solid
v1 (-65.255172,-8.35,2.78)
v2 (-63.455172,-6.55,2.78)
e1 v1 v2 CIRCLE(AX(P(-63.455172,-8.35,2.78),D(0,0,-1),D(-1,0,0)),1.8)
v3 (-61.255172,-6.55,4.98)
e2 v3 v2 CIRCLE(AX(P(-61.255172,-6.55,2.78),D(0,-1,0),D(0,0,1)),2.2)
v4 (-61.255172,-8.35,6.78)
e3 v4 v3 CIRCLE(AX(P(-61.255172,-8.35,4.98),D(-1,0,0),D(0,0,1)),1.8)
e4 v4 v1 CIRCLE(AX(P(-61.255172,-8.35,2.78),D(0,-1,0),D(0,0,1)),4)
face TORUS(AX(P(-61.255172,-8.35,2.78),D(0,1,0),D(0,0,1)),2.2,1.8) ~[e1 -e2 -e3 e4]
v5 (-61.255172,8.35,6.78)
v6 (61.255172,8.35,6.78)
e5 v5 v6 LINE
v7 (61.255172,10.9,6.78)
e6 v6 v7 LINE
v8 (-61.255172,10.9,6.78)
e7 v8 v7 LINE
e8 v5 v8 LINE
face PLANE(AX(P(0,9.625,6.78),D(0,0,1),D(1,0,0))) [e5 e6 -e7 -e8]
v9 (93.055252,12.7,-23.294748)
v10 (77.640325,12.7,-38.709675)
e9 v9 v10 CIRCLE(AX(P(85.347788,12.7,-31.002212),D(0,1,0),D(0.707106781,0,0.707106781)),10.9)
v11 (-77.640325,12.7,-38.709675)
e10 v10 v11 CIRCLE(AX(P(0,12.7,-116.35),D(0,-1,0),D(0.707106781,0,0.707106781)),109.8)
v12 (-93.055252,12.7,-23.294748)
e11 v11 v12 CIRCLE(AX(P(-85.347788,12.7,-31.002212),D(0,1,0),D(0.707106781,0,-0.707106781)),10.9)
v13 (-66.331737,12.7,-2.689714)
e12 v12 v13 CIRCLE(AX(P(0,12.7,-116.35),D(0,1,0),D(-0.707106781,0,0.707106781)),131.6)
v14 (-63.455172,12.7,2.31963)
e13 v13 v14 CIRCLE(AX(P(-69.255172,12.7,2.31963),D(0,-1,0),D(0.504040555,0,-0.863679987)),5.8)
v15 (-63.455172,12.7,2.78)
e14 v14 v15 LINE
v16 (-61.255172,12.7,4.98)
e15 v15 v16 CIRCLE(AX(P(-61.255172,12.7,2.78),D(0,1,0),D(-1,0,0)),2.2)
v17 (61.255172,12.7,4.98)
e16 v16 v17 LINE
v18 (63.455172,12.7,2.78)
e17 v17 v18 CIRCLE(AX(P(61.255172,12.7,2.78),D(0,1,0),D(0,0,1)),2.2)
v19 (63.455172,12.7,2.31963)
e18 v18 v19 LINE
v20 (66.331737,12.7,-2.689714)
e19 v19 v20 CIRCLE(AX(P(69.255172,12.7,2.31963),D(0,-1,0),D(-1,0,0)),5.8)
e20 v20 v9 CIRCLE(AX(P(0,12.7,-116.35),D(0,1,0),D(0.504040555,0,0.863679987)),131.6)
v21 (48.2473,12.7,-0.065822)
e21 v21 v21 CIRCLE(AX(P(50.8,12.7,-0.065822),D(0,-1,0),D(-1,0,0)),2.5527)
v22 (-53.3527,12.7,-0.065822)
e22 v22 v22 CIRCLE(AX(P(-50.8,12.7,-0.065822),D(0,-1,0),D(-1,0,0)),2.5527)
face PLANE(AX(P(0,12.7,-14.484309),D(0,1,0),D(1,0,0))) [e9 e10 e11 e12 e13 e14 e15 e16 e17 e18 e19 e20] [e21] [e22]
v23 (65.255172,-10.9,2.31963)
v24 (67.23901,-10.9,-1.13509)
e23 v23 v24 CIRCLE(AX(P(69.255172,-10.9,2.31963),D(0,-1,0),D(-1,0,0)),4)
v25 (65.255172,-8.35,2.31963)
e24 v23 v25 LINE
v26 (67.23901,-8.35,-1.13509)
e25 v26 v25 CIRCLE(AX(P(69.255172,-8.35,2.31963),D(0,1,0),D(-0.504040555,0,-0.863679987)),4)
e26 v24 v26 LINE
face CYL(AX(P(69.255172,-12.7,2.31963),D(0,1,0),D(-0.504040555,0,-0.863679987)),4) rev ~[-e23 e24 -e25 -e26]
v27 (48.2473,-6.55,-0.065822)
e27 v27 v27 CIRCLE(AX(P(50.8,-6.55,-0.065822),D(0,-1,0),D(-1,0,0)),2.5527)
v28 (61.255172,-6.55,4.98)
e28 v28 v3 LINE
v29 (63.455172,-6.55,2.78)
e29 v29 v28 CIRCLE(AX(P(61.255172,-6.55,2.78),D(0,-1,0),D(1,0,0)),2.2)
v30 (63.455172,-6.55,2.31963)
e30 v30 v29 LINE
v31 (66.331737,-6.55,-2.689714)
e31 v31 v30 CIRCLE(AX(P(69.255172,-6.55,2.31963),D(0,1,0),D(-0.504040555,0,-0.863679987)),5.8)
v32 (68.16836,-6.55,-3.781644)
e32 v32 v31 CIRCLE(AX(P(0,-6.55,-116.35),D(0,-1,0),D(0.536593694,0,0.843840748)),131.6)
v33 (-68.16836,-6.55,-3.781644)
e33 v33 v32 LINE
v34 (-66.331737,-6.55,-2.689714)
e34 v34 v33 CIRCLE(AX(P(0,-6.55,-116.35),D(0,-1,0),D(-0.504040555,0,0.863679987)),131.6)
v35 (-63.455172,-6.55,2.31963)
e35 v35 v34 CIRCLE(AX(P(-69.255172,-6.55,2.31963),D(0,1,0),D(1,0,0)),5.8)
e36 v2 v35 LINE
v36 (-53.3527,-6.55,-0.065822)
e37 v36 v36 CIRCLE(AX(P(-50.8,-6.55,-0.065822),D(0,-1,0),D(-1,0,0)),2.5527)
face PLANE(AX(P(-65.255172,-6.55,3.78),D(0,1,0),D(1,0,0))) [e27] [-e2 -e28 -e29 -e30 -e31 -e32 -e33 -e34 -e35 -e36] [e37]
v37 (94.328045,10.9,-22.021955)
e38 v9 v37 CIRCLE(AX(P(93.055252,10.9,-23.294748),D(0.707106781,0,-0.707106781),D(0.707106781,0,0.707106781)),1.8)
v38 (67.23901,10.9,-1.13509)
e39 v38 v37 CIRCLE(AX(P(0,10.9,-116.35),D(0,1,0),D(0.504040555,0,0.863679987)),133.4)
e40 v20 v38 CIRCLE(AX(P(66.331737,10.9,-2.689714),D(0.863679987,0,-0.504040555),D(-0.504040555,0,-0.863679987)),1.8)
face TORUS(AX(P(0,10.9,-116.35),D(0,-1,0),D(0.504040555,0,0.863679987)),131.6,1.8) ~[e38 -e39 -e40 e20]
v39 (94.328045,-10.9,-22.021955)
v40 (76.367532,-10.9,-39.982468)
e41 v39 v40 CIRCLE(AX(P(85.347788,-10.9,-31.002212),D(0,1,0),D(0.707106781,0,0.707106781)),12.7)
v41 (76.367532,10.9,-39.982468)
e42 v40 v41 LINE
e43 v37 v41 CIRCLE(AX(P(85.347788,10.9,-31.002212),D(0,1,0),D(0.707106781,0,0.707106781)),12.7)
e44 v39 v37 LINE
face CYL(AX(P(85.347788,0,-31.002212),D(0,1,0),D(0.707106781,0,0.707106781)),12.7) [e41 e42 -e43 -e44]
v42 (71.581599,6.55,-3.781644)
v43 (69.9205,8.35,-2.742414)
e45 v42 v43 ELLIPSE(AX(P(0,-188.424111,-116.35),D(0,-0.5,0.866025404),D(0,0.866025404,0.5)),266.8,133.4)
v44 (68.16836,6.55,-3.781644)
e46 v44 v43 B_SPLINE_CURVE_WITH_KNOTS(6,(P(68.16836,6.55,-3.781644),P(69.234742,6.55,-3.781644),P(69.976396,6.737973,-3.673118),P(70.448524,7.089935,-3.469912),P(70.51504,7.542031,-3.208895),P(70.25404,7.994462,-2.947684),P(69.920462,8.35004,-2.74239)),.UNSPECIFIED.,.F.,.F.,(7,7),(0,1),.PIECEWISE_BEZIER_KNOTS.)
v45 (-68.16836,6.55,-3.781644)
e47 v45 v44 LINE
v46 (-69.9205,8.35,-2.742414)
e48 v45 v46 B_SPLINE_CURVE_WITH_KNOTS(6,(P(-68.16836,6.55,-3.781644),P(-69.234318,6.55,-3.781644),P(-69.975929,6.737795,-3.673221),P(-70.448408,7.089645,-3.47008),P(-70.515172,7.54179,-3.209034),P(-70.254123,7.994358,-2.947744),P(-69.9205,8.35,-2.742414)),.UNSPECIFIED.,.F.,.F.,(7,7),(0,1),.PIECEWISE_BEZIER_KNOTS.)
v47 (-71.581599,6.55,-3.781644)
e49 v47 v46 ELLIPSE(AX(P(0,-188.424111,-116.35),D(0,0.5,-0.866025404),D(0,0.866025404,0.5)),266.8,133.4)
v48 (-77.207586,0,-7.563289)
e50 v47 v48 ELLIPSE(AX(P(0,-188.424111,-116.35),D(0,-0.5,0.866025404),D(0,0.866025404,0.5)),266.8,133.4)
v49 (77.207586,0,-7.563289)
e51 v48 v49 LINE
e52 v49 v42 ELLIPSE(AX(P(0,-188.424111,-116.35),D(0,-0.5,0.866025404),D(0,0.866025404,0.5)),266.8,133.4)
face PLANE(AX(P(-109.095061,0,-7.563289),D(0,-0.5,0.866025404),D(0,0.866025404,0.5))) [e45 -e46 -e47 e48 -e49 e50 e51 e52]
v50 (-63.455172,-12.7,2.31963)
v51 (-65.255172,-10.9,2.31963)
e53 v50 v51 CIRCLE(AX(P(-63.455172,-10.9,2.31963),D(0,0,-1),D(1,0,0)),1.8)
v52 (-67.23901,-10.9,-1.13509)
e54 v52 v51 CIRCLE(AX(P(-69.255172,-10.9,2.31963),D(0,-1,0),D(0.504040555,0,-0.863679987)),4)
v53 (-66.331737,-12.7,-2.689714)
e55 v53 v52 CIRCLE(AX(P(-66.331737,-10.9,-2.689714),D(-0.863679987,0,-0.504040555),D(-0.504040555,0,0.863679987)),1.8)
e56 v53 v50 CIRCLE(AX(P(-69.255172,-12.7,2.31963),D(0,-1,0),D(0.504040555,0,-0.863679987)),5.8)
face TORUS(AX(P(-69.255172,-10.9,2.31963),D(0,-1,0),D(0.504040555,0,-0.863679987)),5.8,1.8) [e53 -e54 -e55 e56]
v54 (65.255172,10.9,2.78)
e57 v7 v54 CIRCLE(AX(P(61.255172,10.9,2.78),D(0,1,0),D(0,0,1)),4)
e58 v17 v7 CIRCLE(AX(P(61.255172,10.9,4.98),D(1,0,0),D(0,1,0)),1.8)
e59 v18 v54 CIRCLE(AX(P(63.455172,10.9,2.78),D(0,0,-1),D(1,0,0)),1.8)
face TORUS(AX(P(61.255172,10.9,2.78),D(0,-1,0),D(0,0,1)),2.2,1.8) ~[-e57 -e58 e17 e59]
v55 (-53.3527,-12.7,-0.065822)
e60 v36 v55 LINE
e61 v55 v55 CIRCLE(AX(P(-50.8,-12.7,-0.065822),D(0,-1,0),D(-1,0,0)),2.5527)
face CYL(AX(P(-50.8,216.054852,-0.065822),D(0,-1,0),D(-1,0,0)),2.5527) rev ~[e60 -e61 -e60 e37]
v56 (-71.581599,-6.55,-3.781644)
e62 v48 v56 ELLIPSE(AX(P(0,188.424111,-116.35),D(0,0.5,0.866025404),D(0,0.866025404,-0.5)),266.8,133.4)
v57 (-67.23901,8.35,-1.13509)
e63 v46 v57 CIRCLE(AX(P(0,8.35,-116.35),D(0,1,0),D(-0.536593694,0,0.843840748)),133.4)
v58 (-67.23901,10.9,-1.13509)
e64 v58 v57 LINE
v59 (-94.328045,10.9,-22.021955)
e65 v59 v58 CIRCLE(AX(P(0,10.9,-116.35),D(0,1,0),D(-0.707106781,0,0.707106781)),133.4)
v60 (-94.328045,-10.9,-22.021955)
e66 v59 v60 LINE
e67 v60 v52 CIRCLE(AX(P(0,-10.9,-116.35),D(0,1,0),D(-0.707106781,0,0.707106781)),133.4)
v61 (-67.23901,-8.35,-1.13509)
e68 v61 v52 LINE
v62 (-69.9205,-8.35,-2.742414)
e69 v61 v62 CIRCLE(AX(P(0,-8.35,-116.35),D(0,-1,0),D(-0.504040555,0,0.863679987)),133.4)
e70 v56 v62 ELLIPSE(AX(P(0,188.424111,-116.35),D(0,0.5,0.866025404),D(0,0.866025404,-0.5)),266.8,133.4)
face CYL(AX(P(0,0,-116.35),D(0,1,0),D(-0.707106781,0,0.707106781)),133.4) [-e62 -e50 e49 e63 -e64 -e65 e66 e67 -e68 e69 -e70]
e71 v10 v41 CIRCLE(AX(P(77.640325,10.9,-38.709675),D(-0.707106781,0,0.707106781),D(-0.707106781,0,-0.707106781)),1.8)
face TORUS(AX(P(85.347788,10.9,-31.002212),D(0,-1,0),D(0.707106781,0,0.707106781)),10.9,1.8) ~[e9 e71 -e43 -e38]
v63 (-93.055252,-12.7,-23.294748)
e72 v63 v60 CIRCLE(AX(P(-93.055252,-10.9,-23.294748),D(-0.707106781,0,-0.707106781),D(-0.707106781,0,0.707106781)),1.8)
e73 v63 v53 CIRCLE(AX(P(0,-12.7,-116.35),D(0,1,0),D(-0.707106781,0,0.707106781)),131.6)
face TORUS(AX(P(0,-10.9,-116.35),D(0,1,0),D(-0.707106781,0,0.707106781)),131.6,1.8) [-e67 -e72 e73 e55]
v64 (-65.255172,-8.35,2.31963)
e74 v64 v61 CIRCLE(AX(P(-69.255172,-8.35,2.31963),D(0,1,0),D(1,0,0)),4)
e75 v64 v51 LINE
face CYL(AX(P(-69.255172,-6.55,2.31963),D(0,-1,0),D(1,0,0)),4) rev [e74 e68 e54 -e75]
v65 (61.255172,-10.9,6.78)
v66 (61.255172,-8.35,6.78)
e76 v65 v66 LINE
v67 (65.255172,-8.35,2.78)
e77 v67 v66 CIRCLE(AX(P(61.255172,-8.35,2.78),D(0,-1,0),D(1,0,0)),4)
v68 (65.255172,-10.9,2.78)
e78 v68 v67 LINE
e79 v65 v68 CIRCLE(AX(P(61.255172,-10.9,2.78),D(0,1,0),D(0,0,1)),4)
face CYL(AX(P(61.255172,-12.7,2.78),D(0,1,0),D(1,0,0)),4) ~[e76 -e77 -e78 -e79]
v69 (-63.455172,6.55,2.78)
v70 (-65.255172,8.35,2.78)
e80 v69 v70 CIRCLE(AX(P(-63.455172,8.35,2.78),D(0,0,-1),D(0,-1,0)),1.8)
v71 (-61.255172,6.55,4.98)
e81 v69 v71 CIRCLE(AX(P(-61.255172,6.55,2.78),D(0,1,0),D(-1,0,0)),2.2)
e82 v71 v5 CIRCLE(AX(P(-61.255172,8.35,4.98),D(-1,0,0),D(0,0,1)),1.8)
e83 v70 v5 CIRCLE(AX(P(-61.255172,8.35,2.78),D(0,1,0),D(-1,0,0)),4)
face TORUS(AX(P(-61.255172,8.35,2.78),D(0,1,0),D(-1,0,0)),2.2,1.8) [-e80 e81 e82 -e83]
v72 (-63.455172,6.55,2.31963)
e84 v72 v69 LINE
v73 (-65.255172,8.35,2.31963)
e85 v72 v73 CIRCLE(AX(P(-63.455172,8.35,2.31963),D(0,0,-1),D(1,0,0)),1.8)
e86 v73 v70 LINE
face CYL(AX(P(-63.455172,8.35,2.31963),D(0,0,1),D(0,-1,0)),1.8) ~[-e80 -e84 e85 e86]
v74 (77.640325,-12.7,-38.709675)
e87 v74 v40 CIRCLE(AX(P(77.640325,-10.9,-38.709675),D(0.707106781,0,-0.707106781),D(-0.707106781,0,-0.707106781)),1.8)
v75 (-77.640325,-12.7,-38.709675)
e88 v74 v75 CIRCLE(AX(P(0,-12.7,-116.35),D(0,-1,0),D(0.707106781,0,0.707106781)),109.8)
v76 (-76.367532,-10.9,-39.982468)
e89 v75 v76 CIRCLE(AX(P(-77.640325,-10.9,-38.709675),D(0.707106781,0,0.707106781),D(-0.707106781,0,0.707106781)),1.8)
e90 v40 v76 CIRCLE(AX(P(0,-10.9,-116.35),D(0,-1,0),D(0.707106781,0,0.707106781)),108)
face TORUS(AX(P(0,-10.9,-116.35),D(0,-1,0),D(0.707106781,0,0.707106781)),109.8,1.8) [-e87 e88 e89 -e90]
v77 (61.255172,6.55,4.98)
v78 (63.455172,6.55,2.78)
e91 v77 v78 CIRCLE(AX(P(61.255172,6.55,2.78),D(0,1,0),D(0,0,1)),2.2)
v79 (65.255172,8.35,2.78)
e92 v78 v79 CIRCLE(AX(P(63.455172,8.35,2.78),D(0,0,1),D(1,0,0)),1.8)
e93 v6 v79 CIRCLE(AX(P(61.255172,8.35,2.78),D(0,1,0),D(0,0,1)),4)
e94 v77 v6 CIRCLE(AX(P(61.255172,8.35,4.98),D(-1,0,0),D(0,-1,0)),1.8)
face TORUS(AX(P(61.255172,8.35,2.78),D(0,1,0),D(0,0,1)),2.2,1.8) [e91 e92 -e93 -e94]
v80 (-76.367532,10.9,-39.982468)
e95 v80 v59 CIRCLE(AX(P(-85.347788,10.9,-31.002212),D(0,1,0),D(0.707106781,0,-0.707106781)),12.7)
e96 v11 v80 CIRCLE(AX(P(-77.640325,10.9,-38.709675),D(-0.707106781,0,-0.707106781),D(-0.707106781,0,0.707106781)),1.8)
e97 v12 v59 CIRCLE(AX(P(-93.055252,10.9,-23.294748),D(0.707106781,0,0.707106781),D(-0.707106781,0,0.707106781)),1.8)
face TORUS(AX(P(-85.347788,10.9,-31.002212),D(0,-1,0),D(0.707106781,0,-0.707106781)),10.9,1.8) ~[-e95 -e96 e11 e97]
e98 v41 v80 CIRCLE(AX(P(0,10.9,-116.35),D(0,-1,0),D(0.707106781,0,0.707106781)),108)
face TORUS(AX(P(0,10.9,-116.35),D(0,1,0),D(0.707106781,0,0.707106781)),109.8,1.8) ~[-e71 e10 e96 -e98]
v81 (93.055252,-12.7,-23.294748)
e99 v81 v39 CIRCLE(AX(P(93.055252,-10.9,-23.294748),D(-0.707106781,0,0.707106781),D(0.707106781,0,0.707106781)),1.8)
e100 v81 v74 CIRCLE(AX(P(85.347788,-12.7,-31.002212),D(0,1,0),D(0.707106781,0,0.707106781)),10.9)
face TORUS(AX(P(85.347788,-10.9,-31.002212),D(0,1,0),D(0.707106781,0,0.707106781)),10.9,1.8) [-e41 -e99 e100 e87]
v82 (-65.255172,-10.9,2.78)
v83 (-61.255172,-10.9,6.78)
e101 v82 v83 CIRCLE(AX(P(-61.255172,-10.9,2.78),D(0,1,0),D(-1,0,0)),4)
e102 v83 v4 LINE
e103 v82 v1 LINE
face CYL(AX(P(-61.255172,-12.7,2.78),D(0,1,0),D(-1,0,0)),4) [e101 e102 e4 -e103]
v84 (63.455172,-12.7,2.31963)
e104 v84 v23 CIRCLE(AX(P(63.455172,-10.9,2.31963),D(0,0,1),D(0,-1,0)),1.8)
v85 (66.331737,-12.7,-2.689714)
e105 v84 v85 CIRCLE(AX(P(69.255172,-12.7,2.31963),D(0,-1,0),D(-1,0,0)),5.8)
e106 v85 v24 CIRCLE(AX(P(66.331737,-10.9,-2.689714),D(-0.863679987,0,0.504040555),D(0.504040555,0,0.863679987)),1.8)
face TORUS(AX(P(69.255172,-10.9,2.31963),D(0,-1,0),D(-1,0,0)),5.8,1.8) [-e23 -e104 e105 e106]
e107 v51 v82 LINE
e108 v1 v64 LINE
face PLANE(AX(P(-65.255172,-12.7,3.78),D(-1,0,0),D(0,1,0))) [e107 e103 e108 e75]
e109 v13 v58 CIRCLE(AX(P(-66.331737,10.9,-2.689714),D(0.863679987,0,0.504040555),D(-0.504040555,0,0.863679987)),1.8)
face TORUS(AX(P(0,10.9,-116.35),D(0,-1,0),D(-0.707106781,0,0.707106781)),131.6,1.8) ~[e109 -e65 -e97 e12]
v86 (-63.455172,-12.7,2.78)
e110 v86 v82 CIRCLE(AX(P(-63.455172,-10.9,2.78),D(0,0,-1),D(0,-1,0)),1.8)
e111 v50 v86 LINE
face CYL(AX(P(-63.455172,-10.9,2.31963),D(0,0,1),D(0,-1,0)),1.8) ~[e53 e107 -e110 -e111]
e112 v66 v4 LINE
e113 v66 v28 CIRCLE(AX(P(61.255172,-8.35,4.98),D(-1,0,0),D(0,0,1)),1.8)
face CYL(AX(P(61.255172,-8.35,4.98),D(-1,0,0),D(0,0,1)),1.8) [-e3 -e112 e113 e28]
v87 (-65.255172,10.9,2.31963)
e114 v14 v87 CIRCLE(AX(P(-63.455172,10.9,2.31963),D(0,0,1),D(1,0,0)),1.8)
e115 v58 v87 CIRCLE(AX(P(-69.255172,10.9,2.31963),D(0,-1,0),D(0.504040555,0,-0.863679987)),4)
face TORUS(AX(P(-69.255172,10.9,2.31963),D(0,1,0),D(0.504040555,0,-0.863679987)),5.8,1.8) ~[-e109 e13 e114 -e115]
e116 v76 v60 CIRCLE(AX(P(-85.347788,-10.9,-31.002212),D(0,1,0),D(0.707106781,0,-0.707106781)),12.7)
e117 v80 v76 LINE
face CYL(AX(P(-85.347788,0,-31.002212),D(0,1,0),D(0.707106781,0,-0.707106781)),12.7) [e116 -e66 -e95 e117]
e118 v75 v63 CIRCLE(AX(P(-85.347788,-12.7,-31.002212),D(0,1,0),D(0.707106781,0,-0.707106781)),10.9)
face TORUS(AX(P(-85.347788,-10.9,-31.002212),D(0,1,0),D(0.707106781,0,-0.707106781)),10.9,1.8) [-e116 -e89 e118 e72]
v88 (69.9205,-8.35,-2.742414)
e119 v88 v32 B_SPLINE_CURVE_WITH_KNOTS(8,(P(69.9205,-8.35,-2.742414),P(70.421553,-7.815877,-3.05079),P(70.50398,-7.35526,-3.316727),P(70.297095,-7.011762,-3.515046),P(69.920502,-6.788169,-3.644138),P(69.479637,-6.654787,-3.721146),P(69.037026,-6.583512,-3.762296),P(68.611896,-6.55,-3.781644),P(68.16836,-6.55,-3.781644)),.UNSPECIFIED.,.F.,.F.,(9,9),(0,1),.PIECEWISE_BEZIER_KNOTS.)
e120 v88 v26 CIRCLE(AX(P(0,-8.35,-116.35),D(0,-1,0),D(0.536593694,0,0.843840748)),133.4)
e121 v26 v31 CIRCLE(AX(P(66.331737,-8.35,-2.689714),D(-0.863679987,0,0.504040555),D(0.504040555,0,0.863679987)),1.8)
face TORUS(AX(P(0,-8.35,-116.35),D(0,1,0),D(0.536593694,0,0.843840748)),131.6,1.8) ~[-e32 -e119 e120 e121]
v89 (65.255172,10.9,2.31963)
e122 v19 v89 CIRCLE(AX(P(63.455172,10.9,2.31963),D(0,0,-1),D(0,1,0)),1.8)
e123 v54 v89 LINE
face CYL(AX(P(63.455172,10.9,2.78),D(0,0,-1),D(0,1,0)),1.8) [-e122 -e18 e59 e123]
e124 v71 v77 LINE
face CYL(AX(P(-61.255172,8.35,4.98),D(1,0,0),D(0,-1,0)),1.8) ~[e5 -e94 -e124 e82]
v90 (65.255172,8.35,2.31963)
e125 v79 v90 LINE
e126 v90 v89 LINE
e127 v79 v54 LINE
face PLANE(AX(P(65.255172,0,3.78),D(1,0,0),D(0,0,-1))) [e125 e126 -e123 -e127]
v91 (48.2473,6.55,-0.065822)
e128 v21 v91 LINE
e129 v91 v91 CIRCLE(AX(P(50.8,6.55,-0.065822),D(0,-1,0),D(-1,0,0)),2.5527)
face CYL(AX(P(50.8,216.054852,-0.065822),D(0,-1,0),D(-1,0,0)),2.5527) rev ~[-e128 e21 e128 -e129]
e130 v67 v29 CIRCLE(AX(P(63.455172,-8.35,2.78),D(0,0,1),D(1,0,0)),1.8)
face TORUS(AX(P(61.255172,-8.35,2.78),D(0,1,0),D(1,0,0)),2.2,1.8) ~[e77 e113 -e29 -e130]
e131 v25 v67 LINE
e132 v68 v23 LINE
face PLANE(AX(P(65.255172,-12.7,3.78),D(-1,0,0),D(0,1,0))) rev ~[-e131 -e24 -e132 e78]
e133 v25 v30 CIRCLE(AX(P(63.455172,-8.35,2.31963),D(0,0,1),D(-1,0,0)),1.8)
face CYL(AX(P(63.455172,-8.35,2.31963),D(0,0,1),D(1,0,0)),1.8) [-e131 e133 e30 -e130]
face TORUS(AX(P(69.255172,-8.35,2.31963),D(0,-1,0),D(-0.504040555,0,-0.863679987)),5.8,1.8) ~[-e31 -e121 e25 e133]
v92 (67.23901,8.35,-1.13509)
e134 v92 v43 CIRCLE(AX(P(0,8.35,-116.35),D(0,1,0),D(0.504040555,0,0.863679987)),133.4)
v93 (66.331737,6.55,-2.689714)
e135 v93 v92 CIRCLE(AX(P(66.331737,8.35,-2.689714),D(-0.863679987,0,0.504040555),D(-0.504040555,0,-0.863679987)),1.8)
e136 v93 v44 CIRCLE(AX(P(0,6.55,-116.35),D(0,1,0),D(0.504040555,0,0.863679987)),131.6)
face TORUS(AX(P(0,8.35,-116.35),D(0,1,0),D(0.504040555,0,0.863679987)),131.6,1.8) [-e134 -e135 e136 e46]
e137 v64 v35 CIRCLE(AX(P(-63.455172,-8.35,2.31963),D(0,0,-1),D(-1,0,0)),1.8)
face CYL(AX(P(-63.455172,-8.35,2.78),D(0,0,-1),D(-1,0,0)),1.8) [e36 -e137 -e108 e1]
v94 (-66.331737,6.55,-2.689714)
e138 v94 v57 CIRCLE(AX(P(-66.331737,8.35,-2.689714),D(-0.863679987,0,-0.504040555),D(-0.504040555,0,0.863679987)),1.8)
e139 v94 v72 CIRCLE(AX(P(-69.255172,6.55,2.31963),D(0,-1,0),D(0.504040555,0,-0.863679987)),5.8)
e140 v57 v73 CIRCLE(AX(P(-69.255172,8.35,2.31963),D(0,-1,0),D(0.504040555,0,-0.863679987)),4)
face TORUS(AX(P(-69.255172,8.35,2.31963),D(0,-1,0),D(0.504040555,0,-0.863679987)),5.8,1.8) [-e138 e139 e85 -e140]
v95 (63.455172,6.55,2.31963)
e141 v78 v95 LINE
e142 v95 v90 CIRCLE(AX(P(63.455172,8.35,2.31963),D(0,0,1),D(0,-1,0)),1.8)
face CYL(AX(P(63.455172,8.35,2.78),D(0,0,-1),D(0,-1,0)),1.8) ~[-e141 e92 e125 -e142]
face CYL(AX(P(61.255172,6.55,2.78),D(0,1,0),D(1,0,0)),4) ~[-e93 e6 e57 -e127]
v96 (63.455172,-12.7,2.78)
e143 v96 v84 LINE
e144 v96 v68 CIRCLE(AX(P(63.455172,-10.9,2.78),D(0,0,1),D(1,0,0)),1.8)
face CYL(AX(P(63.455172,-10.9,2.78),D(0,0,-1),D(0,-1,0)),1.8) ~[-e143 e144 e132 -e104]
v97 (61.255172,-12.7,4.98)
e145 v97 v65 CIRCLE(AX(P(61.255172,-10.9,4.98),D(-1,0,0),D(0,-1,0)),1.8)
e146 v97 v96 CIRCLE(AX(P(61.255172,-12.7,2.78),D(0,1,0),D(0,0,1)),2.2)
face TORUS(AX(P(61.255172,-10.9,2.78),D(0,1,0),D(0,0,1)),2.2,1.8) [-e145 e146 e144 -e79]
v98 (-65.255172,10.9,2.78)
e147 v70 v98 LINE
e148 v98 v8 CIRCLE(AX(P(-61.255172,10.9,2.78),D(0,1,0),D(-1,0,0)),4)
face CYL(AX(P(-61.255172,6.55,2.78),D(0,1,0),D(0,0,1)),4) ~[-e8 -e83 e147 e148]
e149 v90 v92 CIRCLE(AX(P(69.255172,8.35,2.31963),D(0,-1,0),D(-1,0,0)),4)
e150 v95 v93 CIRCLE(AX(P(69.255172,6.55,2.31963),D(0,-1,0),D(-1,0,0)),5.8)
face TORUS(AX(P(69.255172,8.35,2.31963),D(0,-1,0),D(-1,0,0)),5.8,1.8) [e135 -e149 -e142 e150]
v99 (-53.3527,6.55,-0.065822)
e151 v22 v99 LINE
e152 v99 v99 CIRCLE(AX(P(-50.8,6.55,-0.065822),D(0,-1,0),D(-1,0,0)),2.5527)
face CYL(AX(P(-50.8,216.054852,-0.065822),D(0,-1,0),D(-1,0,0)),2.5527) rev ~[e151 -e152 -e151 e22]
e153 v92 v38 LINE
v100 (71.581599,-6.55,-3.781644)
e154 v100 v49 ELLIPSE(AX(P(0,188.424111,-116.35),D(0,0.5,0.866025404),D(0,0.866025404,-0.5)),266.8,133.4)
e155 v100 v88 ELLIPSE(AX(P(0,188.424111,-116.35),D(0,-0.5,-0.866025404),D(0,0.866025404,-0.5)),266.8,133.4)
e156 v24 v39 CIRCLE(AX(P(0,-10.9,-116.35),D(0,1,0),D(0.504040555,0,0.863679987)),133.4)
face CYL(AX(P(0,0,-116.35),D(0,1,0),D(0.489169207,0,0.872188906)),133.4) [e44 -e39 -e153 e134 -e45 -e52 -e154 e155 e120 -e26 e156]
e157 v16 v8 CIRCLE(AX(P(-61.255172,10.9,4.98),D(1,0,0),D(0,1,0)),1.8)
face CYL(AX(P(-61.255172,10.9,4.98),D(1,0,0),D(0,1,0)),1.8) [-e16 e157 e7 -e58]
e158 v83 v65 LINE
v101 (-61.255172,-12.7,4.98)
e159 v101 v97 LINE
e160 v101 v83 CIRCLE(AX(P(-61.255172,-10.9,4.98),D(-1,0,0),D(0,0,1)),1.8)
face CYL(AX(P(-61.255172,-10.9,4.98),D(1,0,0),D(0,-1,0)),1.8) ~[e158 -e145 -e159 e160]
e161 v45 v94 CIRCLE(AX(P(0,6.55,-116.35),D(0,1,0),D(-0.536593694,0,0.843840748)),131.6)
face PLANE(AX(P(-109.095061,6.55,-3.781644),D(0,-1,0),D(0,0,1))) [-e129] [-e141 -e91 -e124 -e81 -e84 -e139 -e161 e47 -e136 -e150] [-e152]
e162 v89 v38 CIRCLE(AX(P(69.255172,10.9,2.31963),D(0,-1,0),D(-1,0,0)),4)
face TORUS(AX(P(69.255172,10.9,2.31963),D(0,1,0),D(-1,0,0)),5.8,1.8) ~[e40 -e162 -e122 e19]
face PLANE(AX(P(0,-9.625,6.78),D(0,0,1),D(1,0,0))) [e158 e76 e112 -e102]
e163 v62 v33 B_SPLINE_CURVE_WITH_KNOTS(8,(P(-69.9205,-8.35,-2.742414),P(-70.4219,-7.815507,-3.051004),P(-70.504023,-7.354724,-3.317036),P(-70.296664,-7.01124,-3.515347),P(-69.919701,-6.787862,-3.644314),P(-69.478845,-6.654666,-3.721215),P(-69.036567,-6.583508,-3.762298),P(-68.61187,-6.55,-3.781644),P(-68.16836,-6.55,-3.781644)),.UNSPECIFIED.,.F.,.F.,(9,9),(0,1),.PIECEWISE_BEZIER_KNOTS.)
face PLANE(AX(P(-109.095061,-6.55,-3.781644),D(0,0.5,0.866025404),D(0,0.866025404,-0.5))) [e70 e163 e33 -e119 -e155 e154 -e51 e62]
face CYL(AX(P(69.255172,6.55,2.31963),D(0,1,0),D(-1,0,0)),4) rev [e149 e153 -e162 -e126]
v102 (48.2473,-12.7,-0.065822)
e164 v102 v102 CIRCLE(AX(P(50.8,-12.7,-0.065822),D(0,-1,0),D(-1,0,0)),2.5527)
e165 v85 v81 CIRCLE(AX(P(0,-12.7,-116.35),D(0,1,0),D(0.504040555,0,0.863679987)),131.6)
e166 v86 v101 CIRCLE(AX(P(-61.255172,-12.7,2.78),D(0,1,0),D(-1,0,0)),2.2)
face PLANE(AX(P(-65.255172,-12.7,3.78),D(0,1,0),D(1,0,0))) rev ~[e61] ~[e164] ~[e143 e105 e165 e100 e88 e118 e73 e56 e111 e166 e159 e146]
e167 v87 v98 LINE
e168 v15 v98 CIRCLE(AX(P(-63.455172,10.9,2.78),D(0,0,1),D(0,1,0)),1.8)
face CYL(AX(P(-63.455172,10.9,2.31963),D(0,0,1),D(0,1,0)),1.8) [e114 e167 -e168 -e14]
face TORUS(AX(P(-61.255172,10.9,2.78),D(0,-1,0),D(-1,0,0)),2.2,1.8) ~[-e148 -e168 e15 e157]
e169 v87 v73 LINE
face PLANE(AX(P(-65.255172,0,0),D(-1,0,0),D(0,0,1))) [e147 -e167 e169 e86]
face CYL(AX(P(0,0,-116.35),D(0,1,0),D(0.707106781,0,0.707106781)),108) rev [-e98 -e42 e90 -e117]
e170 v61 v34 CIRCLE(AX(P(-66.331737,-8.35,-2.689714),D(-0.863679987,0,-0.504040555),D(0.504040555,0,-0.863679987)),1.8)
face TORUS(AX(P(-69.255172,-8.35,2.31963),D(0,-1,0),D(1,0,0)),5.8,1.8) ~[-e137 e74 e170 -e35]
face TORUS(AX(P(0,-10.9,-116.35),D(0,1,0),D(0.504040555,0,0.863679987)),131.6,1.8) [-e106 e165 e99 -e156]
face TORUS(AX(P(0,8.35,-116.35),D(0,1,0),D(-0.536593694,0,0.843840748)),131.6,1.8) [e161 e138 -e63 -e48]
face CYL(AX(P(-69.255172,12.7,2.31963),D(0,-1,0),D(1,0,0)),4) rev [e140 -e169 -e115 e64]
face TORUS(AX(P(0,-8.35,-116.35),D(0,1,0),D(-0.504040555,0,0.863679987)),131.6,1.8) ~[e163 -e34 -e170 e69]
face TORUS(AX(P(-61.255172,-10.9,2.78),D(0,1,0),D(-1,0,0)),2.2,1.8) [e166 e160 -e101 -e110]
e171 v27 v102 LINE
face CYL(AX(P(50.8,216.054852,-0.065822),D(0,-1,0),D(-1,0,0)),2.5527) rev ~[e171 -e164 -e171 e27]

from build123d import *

# Parameters (mm, degrees)
BOSS_EXTRUDE1_DEPTH     = 12.7
CUT_EXTRUDE1_DEPTH      = 109.095060565
CUT_EXTRUDE1_DEPTH_BACK = 109.095060565
F_10_CLEARANCE_HOLE2_D  = 5.1054
SKETCH8_W               = 130.510344418
SKETCH8_H               = 6.15
BOSS_EXTRUDE2_DEPTH     = 3
FILLET1_R               = 4
FILLET2_R               = 1.8


with BuildPart() as part:
    # Sketch1 → Boss-Extrude1 (new, symmetric)
    with BuildSketch(Plane(origin=(0, 0, 0), x_dir=(1, 0, 0), z_dir=(0, 1, 0))):
        with BuildLine():
            Line((-65.255172209, 0), (-65.255172209, -3.78))
            Line((-65.255172209, -3.78), (65.255172209, -3.78))
            Line((65.255172209, -3.78), (65.255172209, 0))
            ThreePointArc((65.255172209, 0), (80.547764726, 10.012717744), (94.32804461, 22.02195539))
            ThreePointArc((94.32804461, 22.02195539), (94.32804461, 39.982467632), (76.367532368, 39.982467632))
            ThreePointArc((76.367532368, 39.982467632), (0, 8.35), (-76.367532368, 39.982467632))
            ThreePointArc((-76.367532368, 39.982467632), (-94.32804461, 39.982467632), (-94.32804461, 22.02195539))
            ThreePointArc((-94.32804461, 22.02195539), (-80.547764726, 10.012717744), (-65.255172209, 0))
        make_face()
    extrude(amount=BOSS_EXTRUDE1_DEPTH, both=True)

    # Sketch3 → Cut-Extrude1 (cut, two sides: drawn at the far end of the back side and taken through both)
    with BuildSketch(Plane(origin=(0, 0, 0), x_dir=(0, 0, -1), z_dir=(1, 0, 0)).offset(-CUT_EXTRUDE1_DEPTH_BACK)):
        Polygon((-7.563288526, 0), (-3.781644263, -6.55), (3.781644263, -6.55), (7.563288526, 0), (3.781644263, 6.55), (-3.781644263, 6.55), align=None)
    extrude(amount=CUT_EXTRUDE1_DEPTH + CUT_EXTRUDE1_DEPTH_BACK, mode=Mode.SUBTRACT)

    # #10 Clearance Hole2 (through all)
    with Locations(Plane(origin=(0, 12.7, 0), x_dir=(1, 0, 0), z_dir=(0, 1, 0))):
        with Locations((-50.8, 0.065822132), (50.8, 0.065822132)):
            Hole(F_10_CLEARANCE_HOLE2_D / 2)

    # Sketch8 → Boss-Extrude2 (add)
    with BuildSketch(Plane.XY.offset(3.78)):
        with Locations((0, -9.625)):
            Rectangle(SKETCH8_W, SKETCH8_H)
        with Locations((0, 9.625)):
            Rectangle(SKETCH8_W, SKETCH8_H)
    extrude(amount=BOSS_EXTRUDE2_DEPTH)

    # Fillet1
    fillet1_edges = [part.edges().sort_by_distance(p)[0] for p in [
        (65.255172209, 9.625, 0),
        (-65.255172209, 9.625, 0),
        (65.255172209, -9.625, 0),
        (-65.255172209, -9.625, 0),
        (65.255172209, -9.625, 6.78),
        (-65.255172209, -9.625, 6.78),
        (-65.255172209, 9.625, 6.78),
        (65.255172209, 9.625, 6.78),
    ]]
    fillet(fillet1_edges, radius=FILLET1_R)

    # Fillet2
    fillet2_edges = [part.edges().sort_by_distance(p)[0] for p in [
        (81.455776786, -12.7, -10.706654596),
        (65.255172209, -12.7, 2.54981508),
        (-65.255172209, -12.7, 2.54981508),
        (64.083599334, -12.7, 5.608427125),
        (-64.083599334, -12.7, 5.608427125),
        (-65.255172209, -6.55, 2.54981508),
        (65.255172209, -6.55, 2.54981508),
        (-69.422917101, -6.55, -2.437671514),
        (64.083599334, -6.55, 5.608427125),
        (-64.083599334, -6.55, 5.608427125),
        (0, 12.7, 6.78),
        (0, 6.55, 6.78),
        (69.422917101, 6.55, -2.437671514),
        (65.255172209, 6.55, 2.54981508),
        (-65.255172209, 6.55, 2.54981508),
        (64.083599334, 6.55, 5.608427125),
        (-64.083599334, 6.55, 5.608427125),
        (-65.255172209, 12.7, 2.54981508),
        (-81.455776786, -12.7, -10.706654596),
        (65.255172209, 12.7, 2.54981508),
        (81.455776786, 12.7, -10.706654596),
        (64.083599334, 12.7, 5.608427125),
        (-64.083599334, 12.7, 5.608427125),
        (65.786408101, -12.7, 0.327727662),
        (65.786408101, -6.55, 0.327727662),
        (65.786408101, 6.55, 0.327727662),
        (65.786408101, 12.7, 0.327727662),
        (-65.786408101, -12.7, 0.327727662),
        (-65.786408101, -6.55, 0.327727662),
        (-65.786408101, 6.55, 0.327727662),
        (-65.786408101, 12.7, 0.327727662),
        (69.422917101, -6.55, -2.437671514),
        (94.32804461, 12.7, -39.982467632),
        (0, 12.7, -8.35),
        (-69.422917101, 6.55, -2.437671514),
        (-94.32804461, 12.7, -39.982467632),
        (-81.455776786, 12.7, -10.706654596),
        (-94.32804461, -12.7, -39.982467632),
        (0, -12.7, -8.35),
        (94.32804461, -12.7, -39.982467632),
        (0, -12.7, 6.78),
        (0, -6.55, 6.78),
    ]]
    fillet(fillet2_edges, radius=FILLET2_R)


solid = part.part
